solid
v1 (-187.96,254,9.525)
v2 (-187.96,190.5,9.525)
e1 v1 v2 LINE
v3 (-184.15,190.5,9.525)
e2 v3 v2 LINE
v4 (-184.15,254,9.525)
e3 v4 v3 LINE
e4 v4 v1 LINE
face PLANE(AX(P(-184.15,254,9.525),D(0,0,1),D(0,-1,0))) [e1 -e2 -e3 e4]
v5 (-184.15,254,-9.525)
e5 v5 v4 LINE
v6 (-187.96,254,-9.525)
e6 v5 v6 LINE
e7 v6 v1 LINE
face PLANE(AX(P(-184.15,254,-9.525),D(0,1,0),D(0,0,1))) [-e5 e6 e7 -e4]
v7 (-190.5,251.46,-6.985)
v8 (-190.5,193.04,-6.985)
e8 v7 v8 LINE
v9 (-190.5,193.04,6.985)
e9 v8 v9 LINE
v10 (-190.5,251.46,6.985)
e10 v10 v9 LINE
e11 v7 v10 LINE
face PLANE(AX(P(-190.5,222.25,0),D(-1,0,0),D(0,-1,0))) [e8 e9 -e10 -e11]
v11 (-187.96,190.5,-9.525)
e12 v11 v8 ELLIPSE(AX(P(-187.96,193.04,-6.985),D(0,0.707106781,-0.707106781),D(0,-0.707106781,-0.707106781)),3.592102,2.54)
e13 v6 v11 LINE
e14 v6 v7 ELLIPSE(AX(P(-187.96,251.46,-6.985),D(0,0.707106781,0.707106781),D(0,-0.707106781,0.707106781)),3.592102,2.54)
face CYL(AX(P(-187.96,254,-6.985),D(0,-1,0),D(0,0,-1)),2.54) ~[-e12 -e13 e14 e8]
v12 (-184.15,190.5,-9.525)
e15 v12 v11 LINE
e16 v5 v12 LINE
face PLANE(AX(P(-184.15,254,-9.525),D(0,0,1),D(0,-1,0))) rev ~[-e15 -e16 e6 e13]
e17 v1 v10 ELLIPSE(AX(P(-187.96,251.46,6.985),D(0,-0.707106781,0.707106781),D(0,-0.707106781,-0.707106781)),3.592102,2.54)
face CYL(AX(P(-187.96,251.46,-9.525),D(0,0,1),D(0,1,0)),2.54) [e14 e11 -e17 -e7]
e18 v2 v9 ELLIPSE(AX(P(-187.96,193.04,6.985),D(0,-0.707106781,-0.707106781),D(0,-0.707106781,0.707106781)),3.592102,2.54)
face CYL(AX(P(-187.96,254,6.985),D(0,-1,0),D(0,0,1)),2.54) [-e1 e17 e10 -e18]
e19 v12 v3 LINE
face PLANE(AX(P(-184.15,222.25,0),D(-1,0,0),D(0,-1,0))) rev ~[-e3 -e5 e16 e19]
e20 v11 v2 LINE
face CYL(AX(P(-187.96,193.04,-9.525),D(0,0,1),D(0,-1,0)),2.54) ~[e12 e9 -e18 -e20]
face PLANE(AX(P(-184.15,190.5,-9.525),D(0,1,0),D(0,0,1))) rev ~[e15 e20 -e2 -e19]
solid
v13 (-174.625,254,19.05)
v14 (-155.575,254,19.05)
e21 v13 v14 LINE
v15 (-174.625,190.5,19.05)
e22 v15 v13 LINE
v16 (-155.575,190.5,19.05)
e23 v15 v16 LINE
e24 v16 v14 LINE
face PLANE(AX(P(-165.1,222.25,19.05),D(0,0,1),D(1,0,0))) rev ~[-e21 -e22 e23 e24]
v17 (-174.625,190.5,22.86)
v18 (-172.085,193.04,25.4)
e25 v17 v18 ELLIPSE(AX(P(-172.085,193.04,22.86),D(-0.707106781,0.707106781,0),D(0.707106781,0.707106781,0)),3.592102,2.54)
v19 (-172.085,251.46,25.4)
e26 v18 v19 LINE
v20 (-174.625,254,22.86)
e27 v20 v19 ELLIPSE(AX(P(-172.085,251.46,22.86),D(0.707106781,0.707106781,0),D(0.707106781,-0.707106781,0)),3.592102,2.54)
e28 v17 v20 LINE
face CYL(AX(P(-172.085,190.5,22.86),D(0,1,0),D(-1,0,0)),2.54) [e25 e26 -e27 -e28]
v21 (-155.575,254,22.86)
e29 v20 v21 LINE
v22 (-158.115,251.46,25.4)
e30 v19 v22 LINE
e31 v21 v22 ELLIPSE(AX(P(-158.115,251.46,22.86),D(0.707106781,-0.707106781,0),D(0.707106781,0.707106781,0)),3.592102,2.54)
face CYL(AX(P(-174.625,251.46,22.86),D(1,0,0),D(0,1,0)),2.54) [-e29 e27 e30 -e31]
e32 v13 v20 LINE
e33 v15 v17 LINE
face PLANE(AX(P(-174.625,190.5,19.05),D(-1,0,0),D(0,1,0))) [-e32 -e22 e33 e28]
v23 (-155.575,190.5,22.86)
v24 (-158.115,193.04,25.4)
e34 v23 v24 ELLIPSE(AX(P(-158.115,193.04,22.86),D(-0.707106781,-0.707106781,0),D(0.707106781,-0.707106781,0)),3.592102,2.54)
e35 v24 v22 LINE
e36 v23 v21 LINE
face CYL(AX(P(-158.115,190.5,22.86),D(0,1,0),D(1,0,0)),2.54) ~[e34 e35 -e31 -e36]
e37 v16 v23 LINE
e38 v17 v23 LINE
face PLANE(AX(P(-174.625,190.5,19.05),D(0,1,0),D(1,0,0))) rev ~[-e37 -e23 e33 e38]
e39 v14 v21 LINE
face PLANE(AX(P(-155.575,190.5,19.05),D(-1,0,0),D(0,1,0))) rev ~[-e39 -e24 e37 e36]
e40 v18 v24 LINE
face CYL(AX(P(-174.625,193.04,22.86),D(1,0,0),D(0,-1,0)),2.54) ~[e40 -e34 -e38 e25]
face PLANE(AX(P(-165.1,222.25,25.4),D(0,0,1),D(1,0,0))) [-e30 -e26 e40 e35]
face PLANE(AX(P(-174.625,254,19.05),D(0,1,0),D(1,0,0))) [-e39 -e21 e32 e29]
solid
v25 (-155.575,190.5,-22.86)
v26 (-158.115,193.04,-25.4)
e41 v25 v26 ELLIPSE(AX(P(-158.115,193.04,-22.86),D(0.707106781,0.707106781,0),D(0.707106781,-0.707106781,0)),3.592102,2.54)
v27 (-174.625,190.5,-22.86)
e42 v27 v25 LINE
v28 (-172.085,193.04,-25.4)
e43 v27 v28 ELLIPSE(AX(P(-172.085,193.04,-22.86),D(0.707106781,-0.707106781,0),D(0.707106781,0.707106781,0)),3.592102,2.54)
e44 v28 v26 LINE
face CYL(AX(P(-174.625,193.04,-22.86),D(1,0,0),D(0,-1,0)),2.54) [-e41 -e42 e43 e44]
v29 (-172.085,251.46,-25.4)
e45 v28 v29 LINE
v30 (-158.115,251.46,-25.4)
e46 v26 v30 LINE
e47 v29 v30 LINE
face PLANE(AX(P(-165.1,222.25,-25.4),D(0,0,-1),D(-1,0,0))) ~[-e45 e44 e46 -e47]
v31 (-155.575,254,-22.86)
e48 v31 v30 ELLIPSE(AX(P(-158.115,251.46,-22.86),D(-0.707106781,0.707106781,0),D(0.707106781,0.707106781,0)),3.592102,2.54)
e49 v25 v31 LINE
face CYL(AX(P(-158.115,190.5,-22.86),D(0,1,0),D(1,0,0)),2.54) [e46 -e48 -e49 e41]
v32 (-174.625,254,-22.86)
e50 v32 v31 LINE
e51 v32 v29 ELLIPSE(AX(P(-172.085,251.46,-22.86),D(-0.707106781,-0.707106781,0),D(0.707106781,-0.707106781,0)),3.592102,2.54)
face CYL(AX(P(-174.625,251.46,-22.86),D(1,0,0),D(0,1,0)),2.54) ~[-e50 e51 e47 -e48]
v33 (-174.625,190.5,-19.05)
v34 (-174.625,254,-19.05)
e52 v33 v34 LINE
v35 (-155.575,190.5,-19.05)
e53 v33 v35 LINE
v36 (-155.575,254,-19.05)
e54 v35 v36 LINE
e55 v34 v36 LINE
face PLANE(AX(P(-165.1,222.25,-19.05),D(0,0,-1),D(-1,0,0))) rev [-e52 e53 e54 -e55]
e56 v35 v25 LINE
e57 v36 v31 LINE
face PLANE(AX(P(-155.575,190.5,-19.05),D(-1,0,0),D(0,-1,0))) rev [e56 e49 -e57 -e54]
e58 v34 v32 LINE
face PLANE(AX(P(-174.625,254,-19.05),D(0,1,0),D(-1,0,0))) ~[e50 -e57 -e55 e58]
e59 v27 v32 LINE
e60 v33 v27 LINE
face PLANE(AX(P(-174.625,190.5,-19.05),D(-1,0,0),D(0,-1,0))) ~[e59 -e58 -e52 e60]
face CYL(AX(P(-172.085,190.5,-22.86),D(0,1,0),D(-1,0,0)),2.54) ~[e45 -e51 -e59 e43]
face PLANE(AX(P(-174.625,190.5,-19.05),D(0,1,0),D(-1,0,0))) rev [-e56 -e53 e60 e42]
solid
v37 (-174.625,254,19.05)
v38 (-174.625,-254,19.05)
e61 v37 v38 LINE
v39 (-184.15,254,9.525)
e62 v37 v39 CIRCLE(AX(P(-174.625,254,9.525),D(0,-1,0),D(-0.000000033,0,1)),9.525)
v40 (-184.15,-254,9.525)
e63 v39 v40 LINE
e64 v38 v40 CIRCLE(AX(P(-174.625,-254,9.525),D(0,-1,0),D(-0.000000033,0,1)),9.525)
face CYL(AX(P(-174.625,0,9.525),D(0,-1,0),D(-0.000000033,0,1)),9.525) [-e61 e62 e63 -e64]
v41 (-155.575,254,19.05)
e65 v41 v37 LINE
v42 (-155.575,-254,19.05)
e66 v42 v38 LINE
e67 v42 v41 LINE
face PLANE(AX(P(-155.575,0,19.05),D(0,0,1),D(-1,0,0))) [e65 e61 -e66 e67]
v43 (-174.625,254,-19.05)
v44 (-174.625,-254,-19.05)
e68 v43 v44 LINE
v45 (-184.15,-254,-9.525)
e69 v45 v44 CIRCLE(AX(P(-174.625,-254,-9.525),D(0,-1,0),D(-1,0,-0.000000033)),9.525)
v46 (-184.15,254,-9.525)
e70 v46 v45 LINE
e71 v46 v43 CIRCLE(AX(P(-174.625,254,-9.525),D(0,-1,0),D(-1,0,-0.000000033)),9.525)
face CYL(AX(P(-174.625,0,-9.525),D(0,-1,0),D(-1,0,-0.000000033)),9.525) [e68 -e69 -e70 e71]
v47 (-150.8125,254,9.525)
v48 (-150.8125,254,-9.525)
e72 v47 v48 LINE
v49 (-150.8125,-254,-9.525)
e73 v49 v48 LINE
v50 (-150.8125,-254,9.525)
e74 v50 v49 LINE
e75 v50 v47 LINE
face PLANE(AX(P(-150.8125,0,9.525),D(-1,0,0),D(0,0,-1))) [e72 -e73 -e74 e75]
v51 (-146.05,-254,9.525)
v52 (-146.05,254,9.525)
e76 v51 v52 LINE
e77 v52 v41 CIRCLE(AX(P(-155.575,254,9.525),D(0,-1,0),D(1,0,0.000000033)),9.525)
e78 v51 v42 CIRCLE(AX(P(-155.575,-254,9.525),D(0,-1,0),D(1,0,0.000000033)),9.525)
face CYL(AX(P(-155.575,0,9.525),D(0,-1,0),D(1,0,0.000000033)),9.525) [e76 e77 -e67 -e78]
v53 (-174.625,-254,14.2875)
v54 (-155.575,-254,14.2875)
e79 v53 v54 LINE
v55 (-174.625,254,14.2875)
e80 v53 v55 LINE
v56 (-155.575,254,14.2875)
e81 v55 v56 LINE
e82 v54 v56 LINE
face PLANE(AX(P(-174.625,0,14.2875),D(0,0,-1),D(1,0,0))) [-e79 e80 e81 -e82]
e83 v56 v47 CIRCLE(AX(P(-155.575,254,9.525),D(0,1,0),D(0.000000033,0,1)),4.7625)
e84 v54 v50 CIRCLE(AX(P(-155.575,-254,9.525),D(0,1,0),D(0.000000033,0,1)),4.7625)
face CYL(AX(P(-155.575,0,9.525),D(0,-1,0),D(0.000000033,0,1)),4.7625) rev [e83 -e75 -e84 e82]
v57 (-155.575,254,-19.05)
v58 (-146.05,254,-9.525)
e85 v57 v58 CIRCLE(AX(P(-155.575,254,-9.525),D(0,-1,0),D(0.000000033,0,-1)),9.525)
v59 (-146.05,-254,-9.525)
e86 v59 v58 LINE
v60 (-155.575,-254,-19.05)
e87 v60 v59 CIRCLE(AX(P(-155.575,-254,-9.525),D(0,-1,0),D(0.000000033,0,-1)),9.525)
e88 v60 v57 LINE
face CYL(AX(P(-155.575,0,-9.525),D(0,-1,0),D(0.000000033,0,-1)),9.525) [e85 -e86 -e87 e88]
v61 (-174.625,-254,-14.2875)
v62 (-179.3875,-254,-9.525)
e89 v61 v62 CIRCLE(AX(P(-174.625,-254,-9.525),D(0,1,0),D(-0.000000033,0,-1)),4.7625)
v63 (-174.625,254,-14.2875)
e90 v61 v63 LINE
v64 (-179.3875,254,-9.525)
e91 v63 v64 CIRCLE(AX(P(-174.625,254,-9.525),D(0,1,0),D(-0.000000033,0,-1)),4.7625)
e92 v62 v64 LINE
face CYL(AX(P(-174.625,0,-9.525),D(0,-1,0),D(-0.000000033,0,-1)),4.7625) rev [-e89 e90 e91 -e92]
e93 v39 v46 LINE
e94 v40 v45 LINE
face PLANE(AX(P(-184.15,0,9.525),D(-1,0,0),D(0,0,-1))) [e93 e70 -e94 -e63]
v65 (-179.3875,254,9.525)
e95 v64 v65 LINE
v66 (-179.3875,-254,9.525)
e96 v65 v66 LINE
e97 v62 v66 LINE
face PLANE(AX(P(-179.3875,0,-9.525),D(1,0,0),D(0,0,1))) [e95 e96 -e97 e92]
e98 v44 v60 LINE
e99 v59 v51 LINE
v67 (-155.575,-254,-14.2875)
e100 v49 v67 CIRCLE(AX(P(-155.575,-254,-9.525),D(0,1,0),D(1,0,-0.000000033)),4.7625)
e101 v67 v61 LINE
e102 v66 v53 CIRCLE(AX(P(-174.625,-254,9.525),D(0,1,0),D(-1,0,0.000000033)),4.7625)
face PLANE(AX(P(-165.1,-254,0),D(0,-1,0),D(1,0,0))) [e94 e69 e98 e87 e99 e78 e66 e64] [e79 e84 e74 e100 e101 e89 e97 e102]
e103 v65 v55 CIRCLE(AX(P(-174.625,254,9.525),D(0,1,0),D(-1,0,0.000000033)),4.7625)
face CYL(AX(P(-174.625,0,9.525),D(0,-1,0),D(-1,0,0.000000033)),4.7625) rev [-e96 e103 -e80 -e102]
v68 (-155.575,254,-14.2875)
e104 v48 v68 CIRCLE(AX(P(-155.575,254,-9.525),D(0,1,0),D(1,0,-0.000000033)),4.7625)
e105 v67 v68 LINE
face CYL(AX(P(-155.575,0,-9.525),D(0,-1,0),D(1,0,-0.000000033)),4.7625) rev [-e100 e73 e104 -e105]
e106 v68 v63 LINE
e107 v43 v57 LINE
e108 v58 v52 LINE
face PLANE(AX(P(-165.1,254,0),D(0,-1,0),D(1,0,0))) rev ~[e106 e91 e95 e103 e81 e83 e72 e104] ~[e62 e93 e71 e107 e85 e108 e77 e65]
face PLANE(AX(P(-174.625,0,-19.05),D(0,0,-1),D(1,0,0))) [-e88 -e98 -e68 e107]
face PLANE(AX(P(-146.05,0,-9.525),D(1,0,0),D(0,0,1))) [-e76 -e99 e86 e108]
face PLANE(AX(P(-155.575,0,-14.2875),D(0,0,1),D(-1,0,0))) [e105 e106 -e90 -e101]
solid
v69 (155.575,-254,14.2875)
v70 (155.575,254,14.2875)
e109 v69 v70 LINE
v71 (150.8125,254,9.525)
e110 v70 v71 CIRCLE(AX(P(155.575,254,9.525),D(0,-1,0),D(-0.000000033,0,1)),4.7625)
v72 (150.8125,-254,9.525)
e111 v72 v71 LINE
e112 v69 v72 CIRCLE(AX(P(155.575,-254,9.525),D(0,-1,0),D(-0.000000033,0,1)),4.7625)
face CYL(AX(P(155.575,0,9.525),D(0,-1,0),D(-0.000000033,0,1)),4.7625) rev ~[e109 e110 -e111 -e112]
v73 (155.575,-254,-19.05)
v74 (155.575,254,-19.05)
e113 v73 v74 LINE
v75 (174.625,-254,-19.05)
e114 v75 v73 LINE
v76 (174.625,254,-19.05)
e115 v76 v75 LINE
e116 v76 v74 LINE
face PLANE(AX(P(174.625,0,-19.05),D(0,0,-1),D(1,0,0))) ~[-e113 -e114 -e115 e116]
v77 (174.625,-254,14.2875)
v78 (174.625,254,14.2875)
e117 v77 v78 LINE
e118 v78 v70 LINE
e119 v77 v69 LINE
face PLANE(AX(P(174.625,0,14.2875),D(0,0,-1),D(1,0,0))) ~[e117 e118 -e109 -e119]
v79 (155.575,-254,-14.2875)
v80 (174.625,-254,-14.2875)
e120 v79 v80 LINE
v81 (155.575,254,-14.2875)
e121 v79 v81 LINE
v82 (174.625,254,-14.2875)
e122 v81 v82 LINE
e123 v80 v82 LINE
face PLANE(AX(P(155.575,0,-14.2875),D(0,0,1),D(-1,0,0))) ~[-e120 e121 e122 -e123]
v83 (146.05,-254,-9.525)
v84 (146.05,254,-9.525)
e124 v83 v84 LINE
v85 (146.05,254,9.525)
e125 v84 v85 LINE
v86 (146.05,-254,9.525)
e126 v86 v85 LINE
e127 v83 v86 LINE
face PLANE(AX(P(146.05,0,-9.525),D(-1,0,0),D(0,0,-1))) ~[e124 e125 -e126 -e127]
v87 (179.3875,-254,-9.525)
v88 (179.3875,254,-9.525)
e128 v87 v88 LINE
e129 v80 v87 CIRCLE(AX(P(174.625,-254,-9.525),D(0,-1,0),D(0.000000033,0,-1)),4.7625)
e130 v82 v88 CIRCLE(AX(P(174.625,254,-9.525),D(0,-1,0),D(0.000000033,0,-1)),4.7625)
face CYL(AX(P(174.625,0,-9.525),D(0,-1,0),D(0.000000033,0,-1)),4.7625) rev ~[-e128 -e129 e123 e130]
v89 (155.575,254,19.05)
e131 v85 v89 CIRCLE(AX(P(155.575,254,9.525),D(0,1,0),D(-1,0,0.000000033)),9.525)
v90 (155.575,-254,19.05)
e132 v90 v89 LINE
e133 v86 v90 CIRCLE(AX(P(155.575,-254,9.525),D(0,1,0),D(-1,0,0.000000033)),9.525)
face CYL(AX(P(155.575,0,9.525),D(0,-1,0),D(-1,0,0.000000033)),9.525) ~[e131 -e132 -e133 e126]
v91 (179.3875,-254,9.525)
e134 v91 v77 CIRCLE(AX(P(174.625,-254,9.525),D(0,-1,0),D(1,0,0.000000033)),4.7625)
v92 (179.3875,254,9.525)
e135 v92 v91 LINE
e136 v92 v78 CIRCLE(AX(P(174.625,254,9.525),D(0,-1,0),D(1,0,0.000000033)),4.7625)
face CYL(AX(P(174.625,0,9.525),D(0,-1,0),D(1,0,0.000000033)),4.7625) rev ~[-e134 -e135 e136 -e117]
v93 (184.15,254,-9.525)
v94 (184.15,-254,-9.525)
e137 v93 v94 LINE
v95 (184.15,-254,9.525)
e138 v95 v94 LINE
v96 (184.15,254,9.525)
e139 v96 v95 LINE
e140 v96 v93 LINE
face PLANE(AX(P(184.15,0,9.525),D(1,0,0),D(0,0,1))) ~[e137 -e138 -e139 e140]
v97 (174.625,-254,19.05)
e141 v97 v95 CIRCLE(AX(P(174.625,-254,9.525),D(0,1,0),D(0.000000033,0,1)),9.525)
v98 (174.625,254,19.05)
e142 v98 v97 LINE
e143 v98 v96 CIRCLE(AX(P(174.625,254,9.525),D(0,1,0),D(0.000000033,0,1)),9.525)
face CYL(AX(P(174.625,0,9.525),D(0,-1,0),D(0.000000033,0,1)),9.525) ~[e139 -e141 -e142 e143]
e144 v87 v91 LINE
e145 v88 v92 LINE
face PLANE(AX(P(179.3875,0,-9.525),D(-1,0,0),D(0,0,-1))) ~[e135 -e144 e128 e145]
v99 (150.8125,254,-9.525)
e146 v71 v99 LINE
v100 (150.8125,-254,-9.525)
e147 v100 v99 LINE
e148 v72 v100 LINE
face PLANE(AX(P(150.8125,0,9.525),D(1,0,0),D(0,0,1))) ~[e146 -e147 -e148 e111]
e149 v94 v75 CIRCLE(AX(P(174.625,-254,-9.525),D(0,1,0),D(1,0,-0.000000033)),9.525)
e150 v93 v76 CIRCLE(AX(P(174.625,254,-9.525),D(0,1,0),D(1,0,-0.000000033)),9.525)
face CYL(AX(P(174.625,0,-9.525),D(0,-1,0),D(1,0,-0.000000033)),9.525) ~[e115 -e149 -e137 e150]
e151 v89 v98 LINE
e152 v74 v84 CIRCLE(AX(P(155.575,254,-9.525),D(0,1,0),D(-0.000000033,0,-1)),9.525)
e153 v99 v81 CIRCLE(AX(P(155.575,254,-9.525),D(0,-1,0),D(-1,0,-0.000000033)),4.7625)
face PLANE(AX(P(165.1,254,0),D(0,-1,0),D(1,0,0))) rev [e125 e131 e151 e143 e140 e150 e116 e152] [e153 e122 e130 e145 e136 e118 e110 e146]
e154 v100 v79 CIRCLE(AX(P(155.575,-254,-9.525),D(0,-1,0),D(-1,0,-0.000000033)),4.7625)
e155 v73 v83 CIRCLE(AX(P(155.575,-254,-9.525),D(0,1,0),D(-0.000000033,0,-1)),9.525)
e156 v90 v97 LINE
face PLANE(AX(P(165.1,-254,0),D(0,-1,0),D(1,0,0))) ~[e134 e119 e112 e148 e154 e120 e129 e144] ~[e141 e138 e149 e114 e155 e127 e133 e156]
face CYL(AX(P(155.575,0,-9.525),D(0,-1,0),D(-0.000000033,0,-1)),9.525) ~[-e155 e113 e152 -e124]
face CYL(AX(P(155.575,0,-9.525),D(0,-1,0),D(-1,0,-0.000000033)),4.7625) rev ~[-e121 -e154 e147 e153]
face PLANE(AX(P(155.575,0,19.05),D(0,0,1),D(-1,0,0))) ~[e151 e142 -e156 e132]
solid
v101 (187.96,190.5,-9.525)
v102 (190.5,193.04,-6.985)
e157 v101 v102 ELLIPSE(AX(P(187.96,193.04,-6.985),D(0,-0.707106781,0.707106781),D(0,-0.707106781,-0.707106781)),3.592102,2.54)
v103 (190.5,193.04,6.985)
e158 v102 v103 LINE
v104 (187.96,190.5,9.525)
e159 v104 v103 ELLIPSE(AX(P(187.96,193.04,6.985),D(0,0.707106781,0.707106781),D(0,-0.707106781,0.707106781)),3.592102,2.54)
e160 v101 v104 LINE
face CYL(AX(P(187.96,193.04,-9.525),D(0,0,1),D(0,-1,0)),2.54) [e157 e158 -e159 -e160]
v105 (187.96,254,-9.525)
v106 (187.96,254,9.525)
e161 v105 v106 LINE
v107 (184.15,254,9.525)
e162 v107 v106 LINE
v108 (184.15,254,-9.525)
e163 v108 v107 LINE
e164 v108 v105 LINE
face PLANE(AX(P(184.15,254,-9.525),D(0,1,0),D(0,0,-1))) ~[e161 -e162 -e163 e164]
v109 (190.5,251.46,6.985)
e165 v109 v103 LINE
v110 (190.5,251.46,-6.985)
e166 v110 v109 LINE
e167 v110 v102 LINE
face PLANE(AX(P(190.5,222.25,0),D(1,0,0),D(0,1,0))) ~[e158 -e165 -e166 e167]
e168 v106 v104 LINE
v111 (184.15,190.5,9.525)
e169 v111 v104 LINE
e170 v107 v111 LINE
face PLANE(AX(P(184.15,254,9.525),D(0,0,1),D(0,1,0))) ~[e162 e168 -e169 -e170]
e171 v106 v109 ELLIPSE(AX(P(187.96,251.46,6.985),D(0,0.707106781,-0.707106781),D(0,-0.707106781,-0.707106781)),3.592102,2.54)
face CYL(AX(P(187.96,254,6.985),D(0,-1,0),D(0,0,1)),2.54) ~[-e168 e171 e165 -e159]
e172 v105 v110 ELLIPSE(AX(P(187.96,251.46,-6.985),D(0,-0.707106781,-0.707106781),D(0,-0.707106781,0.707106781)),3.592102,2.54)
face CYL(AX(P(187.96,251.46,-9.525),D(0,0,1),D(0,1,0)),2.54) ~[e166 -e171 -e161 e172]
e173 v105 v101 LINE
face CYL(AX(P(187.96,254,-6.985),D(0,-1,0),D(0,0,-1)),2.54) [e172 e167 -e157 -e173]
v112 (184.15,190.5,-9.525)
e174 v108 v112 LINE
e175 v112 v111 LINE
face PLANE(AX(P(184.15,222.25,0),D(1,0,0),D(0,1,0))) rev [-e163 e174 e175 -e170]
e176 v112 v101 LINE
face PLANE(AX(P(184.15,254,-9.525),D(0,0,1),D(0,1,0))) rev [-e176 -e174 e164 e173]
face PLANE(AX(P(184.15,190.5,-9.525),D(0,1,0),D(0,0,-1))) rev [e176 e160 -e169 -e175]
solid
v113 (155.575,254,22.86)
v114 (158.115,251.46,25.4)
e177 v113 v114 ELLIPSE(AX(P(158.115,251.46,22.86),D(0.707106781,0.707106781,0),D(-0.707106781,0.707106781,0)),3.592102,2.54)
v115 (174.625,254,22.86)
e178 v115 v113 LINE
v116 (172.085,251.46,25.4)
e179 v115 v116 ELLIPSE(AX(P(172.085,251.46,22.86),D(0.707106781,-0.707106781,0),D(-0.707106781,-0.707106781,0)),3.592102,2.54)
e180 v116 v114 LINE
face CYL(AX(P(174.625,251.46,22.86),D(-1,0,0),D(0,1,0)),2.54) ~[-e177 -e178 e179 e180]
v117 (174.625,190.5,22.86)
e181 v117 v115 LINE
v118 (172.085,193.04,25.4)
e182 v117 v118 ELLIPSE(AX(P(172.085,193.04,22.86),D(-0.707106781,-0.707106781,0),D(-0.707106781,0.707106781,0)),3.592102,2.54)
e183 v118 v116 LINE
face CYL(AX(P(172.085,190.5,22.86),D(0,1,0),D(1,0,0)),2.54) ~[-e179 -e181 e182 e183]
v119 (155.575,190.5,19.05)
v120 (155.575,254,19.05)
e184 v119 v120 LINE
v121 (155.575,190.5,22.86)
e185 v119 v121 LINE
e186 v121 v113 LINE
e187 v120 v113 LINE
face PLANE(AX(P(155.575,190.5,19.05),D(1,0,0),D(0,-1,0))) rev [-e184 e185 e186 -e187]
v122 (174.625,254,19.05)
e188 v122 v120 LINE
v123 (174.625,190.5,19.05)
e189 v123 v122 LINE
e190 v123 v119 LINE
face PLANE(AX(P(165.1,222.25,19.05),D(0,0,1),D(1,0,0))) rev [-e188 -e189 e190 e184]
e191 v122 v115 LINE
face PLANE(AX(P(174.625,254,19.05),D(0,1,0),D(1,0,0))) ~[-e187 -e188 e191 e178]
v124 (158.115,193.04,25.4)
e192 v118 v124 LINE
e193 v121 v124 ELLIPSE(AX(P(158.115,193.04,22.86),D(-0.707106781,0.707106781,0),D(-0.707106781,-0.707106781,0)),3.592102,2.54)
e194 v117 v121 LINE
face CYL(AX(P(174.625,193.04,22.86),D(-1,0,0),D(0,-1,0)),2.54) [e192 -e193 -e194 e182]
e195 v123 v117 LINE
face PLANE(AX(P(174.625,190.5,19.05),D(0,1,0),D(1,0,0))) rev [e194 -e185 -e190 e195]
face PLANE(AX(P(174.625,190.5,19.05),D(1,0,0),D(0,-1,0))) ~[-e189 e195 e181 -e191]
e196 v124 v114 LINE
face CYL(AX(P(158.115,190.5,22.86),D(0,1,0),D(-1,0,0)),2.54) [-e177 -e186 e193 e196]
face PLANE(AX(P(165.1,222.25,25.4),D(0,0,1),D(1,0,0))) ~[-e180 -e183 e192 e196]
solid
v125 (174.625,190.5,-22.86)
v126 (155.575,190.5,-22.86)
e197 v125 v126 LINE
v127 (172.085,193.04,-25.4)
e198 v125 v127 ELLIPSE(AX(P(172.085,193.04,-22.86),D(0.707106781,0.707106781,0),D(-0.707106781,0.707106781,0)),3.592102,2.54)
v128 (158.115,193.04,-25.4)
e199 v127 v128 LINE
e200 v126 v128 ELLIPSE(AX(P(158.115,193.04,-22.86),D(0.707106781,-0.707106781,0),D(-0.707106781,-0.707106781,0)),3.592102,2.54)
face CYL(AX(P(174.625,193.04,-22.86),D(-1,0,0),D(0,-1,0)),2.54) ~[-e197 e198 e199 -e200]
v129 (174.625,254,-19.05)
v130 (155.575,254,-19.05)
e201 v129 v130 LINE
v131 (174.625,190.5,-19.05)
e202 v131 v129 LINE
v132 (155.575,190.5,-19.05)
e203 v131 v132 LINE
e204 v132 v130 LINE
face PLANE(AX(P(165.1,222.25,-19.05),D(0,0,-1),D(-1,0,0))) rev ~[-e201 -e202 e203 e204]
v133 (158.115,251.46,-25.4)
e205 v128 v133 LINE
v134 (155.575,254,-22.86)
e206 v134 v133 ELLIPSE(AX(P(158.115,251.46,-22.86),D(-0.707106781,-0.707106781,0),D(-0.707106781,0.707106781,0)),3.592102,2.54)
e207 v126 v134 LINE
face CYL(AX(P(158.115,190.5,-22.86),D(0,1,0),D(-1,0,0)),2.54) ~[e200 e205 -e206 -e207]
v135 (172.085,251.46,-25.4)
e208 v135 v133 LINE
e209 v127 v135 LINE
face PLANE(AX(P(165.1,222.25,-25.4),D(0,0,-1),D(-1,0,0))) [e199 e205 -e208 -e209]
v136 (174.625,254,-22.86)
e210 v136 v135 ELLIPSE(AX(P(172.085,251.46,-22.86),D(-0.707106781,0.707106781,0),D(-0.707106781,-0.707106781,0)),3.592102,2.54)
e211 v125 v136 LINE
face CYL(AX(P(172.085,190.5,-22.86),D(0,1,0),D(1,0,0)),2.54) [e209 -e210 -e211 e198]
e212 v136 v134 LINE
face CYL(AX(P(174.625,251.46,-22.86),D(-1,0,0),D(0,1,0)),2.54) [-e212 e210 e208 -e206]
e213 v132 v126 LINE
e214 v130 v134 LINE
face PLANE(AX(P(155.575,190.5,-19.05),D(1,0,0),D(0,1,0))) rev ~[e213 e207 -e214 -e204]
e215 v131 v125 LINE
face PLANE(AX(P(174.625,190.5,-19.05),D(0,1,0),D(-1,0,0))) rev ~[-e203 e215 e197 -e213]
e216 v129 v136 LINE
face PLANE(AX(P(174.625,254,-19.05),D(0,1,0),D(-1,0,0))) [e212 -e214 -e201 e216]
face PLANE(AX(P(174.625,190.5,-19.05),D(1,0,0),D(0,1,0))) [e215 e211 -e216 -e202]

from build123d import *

# Parameters (mm, degrees)
F1_DEPTH = 254
F2_W     = 19.05
F2_H     = 63.5
F3_DEPTH = 6.35
F4_R     = 2.54
F5_W     = 63.5
F5_H     = 19.05
F6_DEPTH = 6.35
F7_R     = 2.54


with BuildPart() as f1:
    # F0 (on Front) → F1 (new body, symmetric)
    with BuildSketch(Plane.XZ):
        with BuildLine():
            Line((-155.575, 19.05), (-174.625, 19.05))
            ThreePointArc((-174.625, 19.05), (-181.360192, 16.260192), (-184.15, 9.525))
            Line((-184.15, 9.525), (-184.15, -9.525))
            ThreePointArc((-184.15, -9.525), (-181.360192, -16.260192), (-174.625, -19.05))
            Line((-174.625, -19.05), (-155.575, -19.05))
            ThreePointArc((-155.575, -19.05), (-148.839808, -16.260192), (-146.05, -9.525))
            Line((-146.05, -9.525), (-146.05, 9.525))
            ThreePointArc((-146.05, 9.525), (-148.839808, 16.260192), (-155.575, 19.05))
        make_face()
        with BuildLine():
            ThreePointArc((-179.3875, 9.525), (-177.992596, 12.892596), (-174.625, 14.2875))
            Line((-174.625, 14.2875), (-155.575, 14.2875))
            ThreePointArc((-155.575, 14.2875), (-152.207404, 12.892596), (-150.8125, 9.525))
            Line((-150.8125, 9.525), (-150.8125, -9.525))
            ThreePointArc((-150.8125, -9.525), (-152.207404, -12.892596), (-155.575, -14.2875))
            Line((-155.575, -14.2875), (-174.625, -14.2875))
            ThreePointArc((-174.625, -14.2875), (-177.992596, -12.892596), (-179.3875, -9.525))
            Line((-179.3875, -9.525), (-179.3875, 9.525))
        make_face(mode=Mode.SUBTRACT)
    extrude(amount=F1_DEPTH, both=True)


with BuildPart() as f3:
    # F2 (on face) → F3 (new body)
    with BuildSketch(Plane.XY.offset(19.05)):
        with Locations((-165.1, 222.25)):
            Rectangle(F2_W, F2_H)
    extrude(amount=F3_DEPTH)

    # F4
    f4_edges = [f3.edges().sort_by_distance(p)[0] for p in [
        (-165.1, 254, 25.4),
        (-174.625, 222.25, 25.4),
        (-165.1, 190.5, 25.4),
        (-155.575, 222.25, 25.4),
    ]]
    fillet(f4_edges, radius=F4_R)


with BuildPart() as f6:
    # F5 (on face) → F6 (new body)
    with BuildSketch(Plane(origin=(-184.15, 0, 0), x_dir=(0, -1, 0), z_dir=(-1, 0, 0))):
        with Locations((-222.25, 0)):
            Rectangle(F5_W, F5_H)
    extrude(amount=F6_DEPTH)

    # F7
    f7_edges = [f6.edges().sort_by_distance(p)[0] for p in [
        (-190.5, 222.25, 9.525),
        (-190.5, 254, 0),
        (-190.5, 222.25, -9.525),
        (-190.5, 190.5, 0),
    ]]
    fillet(f7_edges, radius=F7_R)


with BuildPart() as f8_1:
    # F8: instance of F3
    add(f3.part.mirror(Plane.XY))


with BuildPart() as f9_1:
    # F9: instance of F1
    add(f1.part.mirror(Plane.YZ))


with BuildPart() as f9_2:
    # F9: instance of F3
    add(f3.part.mirror(Plane.YZ))


with BuildPart() as f9_3:
    # F9: instance of F6
    add(f6.part.mirror(Plane.YZ))


with BuildPart() as f9_4:
    # F9: instance of F8_1
    add(f8_1.part.mirror(Plane.YZ))


solid = Compound([f1.part, f3.part, f6.part, f8_1.part, f9_1.part, f9_2.part, f9_3.part, f9_4.part])
